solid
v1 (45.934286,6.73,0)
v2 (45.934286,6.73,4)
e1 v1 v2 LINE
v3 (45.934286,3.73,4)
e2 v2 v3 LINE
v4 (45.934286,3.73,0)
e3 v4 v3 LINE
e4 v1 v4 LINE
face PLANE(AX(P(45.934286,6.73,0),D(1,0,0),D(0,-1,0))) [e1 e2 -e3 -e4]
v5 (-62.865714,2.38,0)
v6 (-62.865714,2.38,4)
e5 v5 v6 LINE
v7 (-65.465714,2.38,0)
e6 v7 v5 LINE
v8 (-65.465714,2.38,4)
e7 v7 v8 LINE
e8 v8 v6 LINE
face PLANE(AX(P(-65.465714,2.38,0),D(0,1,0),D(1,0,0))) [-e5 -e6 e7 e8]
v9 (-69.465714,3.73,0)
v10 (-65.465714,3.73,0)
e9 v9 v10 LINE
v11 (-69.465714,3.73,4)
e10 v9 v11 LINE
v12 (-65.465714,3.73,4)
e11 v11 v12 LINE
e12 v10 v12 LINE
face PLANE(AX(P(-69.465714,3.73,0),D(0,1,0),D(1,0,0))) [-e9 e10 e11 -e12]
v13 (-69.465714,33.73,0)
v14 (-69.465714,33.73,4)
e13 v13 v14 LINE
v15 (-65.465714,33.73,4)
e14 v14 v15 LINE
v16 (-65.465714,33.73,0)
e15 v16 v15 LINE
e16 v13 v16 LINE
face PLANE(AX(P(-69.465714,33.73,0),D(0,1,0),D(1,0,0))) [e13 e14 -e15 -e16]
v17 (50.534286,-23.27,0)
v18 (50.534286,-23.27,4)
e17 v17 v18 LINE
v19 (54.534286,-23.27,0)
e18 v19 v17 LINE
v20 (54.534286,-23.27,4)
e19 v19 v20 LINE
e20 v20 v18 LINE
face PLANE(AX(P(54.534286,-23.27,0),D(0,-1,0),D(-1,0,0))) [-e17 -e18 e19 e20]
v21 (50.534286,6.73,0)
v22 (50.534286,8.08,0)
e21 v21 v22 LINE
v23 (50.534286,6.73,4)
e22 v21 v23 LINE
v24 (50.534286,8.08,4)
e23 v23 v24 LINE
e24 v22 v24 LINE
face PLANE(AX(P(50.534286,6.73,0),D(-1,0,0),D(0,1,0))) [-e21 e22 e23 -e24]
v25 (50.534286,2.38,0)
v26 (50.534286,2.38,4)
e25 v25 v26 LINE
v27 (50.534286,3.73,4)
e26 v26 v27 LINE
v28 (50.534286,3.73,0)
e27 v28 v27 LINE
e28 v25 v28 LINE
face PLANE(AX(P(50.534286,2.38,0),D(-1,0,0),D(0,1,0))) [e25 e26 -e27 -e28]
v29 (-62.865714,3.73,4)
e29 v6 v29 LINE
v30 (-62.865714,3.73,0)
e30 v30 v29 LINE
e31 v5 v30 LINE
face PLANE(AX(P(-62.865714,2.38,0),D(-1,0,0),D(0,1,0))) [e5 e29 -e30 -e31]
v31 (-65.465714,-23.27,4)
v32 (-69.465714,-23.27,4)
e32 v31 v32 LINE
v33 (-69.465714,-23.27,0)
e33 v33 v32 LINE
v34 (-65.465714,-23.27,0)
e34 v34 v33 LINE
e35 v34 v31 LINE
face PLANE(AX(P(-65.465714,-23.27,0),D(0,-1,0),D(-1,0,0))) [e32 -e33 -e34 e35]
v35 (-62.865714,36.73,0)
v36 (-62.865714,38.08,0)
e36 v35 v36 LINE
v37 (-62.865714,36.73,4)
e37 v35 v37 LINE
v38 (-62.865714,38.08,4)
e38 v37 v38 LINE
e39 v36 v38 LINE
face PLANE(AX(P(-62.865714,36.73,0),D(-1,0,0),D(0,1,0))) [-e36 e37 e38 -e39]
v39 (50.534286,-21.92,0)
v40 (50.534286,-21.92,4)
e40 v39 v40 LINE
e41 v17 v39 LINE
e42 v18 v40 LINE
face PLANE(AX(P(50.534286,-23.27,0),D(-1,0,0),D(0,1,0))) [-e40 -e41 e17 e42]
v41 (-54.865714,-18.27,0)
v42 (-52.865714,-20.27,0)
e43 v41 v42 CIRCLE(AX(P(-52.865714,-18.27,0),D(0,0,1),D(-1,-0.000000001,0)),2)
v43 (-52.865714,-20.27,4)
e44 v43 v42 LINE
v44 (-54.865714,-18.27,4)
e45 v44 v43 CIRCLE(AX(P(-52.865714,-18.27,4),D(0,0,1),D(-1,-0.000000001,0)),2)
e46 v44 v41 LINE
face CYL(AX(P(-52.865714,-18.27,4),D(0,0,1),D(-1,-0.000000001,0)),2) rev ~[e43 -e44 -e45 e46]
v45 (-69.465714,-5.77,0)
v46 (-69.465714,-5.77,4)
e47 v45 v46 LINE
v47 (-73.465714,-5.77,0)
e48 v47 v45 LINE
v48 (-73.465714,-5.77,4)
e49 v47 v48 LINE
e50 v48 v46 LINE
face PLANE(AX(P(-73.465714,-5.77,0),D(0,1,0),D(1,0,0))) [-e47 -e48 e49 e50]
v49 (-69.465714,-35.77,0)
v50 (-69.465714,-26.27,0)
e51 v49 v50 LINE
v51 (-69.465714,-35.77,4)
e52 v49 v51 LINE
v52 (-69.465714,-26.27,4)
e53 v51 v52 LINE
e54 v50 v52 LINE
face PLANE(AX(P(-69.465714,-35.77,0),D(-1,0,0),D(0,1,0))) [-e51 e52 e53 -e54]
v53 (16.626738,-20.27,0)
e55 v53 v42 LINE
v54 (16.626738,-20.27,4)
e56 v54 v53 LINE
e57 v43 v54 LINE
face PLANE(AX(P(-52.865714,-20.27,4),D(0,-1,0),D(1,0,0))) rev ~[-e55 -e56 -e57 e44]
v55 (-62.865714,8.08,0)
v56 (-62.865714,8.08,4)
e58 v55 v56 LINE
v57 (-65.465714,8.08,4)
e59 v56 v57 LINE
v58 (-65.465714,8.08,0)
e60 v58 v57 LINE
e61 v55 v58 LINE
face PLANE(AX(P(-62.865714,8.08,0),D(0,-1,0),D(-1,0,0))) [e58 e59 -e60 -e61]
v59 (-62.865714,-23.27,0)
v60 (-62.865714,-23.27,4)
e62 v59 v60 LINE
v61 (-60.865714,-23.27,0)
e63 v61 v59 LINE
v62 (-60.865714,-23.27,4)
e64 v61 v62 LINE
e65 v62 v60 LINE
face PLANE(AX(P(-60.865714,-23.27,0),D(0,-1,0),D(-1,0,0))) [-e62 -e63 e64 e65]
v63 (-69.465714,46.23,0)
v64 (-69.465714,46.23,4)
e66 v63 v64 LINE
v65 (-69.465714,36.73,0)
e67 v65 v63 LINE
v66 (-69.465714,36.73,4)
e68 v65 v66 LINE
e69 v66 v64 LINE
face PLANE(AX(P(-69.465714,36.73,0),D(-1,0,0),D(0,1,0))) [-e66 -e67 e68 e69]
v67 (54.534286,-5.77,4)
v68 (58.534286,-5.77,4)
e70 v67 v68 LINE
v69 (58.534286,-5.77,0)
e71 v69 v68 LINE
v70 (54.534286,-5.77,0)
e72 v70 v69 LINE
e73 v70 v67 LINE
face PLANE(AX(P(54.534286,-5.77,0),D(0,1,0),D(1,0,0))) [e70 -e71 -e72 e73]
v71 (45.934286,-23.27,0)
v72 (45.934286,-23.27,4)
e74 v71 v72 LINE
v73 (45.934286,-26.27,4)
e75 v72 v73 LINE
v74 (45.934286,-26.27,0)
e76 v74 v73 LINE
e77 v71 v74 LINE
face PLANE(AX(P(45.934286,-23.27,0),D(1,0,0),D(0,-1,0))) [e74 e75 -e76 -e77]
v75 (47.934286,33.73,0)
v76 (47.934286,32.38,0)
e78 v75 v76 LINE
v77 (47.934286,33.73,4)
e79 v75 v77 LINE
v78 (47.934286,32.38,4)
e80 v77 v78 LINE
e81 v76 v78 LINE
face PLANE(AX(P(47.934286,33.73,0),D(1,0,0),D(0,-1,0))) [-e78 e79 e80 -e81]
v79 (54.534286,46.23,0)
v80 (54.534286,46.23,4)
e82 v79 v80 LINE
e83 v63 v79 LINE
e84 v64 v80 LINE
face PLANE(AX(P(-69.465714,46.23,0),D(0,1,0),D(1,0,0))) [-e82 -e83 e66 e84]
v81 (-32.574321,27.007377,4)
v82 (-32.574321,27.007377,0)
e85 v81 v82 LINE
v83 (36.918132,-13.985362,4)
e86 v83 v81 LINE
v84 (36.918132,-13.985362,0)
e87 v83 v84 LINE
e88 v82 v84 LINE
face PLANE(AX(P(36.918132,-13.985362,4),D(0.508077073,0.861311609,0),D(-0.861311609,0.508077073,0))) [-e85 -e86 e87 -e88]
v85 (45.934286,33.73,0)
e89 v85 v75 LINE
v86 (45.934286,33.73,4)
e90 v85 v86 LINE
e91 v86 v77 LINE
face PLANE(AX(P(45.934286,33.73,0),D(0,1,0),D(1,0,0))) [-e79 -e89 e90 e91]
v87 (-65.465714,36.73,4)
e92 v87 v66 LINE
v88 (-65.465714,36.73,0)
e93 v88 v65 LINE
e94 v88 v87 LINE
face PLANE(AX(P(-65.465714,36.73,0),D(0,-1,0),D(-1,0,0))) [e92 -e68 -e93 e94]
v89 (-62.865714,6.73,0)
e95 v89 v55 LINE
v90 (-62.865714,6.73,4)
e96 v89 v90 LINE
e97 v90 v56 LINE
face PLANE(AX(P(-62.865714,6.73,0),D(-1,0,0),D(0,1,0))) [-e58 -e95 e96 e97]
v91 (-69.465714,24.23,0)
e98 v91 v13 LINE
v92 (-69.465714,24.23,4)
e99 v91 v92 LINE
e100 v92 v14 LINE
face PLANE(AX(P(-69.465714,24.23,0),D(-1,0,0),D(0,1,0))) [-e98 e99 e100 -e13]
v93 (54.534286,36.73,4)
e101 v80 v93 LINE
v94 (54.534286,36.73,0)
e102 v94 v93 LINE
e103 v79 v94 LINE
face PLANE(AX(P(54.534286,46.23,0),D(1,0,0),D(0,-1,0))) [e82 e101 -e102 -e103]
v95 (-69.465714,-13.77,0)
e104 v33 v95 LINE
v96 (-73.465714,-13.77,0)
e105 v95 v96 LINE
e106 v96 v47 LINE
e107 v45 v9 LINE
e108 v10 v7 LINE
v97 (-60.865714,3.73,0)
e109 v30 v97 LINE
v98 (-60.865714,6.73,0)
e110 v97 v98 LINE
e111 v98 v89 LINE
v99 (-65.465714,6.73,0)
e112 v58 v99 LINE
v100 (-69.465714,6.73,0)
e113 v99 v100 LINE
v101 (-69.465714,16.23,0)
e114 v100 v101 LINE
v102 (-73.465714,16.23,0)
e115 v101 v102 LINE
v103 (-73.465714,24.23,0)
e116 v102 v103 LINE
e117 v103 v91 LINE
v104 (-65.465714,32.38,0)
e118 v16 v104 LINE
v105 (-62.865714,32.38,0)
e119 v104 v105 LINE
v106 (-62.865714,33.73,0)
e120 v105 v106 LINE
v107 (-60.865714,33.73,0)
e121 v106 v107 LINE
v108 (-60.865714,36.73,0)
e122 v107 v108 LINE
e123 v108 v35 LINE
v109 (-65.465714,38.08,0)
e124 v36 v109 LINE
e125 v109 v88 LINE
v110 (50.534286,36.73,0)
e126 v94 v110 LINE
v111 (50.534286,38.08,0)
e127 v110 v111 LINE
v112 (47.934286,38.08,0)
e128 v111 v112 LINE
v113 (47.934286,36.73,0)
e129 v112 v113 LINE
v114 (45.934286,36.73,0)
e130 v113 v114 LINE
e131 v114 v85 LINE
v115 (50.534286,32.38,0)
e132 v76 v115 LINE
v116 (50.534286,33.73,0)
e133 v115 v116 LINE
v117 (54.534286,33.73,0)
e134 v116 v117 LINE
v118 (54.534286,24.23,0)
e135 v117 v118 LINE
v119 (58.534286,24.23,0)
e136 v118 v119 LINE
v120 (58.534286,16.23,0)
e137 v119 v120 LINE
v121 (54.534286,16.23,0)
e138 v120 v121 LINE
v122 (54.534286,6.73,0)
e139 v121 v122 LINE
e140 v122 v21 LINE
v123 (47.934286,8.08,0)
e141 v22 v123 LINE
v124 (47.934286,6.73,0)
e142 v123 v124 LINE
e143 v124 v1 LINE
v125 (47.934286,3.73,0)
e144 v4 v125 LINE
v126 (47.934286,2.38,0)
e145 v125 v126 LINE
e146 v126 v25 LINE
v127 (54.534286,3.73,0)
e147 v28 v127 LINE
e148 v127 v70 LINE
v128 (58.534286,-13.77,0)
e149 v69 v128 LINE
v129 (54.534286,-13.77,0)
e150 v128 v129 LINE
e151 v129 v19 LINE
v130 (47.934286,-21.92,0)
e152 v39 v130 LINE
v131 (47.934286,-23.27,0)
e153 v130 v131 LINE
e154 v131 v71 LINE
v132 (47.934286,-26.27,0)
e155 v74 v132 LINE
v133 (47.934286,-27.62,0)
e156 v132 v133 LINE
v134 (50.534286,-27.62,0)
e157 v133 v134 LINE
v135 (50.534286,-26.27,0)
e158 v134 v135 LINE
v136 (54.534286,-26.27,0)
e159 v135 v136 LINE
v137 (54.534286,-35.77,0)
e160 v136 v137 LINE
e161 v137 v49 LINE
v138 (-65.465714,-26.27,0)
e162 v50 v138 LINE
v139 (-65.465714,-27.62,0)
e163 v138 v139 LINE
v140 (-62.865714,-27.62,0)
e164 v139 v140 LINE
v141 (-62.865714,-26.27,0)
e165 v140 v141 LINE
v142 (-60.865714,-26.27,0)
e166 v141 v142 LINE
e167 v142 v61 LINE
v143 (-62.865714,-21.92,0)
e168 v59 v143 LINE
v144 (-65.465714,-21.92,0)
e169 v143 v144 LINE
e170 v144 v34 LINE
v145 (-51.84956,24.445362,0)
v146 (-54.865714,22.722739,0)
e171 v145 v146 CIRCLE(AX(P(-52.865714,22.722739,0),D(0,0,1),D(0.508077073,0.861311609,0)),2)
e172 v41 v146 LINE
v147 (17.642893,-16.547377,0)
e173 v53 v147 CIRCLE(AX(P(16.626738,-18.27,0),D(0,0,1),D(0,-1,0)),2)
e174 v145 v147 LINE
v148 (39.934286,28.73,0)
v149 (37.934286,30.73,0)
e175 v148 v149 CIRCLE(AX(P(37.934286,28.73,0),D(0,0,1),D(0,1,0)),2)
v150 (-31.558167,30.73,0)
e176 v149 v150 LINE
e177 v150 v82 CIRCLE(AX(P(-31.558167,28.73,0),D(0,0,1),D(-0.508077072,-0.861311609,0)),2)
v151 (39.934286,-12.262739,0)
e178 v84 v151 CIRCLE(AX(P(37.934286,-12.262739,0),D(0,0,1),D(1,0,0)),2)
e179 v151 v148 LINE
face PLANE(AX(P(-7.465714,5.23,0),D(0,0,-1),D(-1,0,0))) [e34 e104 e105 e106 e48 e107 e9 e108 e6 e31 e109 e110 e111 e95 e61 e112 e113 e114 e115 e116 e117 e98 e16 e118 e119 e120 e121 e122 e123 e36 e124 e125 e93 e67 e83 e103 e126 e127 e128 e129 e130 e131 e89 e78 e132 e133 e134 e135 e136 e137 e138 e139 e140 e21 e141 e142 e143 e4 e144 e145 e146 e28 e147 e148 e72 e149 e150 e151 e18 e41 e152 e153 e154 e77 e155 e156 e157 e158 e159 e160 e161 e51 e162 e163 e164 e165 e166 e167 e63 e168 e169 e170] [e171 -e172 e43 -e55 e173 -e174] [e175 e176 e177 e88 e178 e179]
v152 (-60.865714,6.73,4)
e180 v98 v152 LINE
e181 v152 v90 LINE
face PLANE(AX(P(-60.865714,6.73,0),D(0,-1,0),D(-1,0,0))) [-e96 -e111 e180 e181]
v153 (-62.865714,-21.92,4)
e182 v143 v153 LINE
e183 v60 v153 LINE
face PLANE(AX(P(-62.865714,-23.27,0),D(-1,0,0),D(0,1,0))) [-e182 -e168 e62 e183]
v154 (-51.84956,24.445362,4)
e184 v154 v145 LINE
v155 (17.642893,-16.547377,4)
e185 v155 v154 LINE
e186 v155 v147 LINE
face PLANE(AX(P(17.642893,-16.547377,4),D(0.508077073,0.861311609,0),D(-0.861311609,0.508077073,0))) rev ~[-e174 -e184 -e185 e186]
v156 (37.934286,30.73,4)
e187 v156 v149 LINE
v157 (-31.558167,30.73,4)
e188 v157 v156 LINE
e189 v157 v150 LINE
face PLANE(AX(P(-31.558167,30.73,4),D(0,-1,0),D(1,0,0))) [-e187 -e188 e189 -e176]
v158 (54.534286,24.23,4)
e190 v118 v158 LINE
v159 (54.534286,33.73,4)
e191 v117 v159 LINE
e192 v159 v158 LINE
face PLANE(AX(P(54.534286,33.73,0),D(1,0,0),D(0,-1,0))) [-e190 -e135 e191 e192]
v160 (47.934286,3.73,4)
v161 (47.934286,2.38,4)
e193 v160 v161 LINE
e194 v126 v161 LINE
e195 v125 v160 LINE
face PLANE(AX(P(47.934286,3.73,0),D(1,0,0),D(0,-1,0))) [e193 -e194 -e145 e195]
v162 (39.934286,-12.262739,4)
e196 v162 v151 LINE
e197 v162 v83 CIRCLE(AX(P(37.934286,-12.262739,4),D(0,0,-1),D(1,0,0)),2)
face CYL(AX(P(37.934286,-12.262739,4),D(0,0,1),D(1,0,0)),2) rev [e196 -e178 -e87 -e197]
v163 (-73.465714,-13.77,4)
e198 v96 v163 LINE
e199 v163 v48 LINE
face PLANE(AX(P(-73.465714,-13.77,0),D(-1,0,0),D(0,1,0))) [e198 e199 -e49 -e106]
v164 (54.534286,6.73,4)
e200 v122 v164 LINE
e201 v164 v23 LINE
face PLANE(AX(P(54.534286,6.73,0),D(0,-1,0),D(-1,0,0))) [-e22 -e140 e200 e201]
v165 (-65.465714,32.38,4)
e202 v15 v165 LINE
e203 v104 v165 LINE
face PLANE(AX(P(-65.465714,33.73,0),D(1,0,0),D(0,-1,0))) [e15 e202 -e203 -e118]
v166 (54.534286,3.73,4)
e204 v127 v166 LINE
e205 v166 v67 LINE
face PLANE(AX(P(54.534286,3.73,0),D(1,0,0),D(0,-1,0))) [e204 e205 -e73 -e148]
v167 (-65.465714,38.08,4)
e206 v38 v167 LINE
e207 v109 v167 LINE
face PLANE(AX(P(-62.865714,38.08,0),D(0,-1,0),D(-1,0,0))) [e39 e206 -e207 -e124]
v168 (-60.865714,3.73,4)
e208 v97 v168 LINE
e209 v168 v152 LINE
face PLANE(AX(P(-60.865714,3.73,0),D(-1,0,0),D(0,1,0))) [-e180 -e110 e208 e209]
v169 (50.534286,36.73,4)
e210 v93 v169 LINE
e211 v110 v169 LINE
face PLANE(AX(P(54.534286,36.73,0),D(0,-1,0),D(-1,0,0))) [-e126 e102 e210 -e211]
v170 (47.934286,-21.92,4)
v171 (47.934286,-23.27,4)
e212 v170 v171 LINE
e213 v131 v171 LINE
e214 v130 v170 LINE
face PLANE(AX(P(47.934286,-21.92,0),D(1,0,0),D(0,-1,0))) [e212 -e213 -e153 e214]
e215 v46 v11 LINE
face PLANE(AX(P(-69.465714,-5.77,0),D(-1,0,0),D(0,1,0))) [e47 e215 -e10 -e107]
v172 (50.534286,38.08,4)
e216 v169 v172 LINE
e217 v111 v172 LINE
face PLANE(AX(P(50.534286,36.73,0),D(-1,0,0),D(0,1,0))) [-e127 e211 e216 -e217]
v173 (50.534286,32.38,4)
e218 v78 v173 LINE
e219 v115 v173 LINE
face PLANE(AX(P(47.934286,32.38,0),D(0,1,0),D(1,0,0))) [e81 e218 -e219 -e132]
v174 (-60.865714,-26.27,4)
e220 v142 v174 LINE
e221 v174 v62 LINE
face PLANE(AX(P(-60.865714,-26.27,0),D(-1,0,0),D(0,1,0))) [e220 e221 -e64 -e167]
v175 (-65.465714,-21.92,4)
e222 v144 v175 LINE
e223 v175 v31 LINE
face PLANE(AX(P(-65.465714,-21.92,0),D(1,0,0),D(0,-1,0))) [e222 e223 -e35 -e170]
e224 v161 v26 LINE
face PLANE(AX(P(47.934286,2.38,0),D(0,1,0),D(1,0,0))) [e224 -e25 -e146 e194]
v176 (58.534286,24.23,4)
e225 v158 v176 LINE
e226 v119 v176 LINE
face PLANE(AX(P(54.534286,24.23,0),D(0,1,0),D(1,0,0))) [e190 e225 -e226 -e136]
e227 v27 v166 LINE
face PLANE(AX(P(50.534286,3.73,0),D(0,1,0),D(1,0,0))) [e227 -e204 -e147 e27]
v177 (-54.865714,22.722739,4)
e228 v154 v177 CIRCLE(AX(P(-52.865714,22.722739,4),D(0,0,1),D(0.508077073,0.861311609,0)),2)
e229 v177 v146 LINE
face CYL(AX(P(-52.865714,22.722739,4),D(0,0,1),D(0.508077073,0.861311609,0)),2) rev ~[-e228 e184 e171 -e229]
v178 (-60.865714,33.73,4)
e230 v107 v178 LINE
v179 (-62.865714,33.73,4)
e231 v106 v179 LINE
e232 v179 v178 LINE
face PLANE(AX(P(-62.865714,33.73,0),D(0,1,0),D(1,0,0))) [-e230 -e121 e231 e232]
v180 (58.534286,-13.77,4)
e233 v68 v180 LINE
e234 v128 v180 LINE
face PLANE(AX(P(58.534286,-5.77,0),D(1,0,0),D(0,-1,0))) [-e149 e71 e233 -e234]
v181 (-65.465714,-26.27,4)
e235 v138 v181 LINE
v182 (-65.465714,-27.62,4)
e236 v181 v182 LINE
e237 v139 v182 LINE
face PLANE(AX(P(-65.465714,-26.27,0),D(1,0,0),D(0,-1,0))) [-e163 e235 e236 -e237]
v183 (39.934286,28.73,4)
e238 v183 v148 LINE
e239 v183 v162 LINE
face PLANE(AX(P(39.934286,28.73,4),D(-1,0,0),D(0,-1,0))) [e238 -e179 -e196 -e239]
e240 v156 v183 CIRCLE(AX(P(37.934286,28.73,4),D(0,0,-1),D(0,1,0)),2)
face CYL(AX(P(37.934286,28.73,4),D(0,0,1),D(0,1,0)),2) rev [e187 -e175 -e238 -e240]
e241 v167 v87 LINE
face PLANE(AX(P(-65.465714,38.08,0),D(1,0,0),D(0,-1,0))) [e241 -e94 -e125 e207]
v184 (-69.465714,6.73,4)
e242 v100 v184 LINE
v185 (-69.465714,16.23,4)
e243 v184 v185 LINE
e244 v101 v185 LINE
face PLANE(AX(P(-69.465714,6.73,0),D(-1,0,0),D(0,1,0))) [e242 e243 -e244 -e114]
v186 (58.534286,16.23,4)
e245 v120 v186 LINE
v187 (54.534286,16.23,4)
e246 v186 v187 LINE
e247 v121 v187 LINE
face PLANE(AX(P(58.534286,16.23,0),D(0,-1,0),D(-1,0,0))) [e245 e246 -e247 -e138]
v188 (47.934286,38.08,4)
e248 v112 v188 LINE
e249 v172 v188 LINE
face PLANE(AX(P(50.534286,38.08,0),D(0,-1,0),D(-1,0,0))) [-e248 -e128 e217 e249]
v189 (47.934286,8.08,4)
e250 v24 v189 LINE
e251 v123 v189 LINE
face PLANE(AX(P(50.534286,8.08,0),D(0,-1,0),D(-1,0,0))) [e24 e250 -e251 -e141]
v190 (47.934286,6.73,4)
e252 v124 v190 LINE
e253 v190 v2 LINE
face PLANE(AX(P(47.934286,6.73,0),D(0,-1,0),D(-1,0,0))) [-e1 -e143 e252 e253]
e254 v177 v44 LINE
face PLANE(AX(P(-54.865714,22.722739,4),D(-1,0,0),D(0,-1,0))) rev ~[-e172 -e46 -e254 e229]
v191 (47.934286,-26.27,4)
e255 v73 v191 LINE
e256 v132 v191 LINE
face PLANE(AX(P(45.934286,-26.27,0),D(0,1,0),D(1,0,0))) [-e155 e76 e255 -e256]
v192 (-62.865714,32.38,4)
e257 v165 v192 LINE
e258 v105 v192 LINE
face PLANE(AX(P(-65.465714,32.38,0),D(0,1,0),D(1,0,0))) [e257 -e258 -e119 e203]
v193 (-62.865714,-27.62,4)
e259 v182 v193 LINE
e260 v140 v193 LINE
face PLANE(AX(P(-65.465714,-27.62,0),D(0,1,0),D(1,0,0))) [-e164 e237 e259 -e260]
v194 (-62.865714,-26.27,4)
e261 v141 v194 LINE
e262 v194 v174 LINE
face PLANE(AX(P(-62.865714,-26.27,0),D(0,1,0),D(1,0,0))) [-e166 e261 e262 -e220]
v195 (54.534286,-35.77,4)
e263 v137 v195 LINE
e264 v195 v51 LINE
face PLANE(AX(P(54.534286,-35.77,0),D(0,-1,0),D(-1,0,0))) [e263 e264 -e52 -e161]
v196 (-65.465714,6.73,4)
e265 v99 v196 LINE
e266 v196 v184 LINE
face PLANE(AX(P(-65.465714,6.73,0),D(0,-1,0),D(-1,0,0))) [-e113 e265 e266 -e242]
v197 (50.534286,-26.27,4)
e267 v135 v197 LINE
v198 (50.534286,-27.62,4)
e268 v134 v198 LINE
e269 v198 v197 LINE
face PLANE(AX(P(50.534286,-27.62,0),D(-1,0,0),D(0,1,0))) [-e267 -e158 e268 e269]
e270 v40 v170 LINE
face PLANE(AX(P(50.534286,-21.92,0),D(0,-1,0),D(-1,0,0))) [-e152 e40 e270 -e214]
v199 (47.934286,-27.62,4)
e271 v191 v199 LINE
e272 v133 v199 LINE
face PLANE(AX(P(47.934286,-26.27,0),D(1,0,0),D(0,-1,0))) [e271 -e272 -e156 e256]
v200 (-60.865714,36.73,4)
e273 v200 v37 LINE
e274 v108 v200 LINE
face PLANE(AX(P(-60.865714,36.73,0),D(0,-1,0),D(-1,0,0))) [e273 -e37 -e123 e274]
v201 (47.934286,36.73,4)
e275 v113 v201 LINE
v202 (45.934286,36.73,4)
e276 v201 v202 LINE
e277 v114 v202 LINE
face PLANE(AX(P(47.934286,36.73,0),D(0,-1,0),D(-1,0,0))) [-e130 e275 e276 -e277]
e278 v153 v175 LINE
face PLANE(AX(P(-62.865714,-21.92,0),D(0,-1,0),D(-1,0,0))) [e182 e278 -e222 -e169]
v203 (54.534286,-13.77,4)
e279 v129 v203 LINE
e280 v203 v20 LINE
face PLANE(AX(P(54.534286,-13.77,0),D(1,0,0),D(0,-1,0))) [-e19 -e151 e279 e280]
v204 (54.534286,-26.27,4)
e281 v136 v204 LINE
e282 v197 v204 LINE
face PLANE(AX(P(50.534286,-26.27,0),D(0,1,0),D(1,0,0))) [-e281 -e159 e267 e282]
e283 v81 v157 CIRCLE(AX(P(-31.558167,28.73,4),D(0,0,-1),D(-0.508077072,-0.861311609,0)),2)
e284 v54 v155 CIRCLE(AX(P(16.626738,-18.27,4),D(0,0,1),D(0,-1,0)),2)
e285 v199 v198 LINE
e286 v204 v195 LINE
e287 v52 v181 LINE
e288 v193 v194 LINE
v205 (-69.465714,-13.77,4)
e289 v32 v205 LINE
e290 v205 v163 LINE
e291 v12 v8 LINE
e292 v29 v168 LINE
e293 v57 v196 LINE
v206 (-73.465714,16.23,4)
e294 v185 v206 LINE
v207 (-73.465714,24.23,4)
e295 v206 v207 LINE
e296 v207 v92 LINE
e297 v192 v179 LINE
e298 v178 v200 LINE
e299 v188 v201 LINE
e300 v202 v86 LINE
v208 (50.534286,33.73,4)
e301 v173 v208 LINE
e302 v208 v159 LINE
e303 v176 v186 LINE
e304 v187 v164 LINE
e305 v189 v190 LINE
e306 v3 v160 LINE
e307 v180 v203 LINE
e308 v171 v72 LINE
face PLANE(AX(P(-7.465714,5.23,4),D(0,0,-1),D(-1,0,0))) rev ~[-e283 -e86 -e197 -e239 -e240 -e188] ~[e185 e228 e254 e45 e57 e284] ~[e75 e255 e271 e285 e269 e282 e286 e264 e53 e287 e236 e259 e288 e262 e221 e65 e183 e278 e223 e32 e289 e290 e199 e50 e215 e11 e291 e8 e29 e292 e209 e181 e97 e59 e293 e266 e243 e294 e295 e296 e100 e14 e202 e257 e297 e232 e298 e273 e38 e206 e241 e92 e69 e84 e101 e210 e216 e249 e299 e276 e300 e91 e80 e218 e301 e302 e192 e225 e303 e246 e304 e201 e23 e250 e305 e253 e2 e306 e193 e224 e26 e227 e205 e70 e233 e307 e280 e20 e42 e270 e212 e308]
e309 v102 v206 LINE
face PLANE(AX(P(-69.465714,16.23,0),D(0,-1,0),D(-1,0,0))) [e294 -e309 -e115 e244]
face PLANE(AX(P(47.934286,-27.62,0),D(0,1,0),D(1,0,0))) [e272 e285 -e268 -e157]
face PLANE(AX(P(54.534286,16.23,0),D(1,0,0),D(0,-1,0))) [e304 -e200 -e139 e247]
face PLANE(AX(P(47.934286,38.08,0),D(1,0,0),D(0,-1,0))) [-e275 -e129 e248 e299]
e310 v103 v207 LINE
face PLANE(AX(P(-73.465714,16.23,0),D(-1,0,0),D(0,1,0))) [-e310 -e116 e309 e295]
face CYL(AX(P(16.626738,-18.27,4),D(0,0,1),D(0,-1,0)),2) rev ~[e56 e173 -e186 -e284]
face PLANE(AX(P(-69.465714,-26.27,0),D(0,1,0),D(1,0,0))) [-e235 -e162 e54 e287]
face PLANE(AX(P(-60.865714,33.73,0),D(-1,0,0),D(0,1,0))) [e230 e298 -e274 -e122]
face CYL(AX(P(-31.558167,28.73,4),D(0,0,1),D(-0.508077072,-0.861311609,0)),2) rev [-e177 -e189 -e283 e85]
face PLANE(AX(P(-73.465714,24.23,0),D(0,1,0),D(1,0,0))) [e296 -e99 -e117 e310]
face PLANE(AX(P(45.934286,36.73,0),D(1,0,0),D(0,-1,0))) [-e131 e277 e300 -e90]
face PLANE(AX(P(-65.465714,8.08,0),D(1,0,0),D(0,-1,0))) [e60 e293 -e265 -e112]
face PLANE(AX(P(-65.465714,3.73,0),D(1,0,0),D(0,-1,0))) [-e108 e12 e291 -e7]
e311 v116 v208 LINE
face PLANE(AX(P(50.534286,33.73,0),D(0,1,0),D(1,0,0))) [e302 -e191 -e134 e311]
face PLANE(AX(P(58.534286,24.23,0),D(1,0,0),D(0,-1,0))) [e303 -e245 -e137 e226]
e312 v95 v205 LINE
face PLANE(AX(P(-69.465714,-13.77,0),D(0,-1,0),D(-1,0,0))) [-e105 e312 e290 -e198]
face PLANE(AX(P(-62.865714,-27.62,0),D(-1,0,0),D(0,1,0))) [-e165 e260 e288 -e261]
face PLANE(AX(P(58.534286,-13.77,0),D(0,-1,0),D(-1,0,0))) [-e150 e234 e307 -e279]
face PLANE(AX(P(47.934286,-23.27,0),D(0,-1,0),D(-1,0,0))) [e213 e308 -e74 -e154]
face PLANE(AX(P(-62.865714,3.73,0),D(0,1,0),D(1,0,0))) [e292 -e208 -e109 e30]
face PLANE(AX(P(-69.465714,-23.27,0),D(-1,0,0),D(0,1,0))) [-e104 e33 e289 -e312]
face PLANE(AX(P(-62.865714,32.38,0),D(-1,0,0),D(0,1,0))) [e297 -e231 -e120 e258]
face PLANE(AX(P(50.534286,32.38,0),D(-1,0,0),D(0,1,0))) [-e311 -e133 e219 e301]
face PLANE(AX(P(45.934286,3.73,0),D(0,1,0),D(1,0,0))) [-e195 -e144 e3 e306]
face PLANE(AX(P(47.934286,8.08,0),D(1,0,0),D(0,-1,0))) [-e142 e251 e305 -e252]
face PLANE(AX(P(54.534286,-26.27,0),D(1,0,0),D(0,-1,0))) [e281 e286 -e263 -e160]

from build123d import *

# Parameters (mm, degrees)
EXTRUDE_1_DEPTH     = 4
CUT_EXTRUDE_1_DEPTH = 10


with BuildPart() as part:
    # 草图1 → 凸台-拉伸1 (new body)
    with BuildSketch(Plane.XY):
        Polygon((54.534285714, 6.73), (50.534285714, 6.73), (50.534285714, 8.08), (47.934285714, 8.08), (47.934285714, 6.73), (45.934285714, 6.73), (45.934285714, 3.73), (47.934285714, 3.73), (47.934285714, 2.38), (50.534285714, 2.38), (50.534285714, 3.73), (54.534285714, 3.73), (54.534285714, -5.77), (58.534285714, -5.77), (58.534285714, -13.77), (54.534285714, -13.77), (54.534285714, -23.27), (50.534285714, -23.27), (50.534285714, -21.92), (47.934285714, -21.92), (47.934285714, -23.27), (45.934285714, -23.27), (45.934285714, -26.27), (47.934285714, -26.27), (47.934285714, -27.62), (50.534285714, -27.62), (50.534285714, -26.27), (54.534285714, -26.27), (54.534285714, -35.77), (-69.465714286, -35.77), (-69.465714286, -26.27), (-65.465714286, -26.27), (-65.465714286, -27.62), (-62.865714286, -27.62), (-62.865714286, -26.27), (-60.865714286, -26.27), (-60.865714286, -23.27), (-62.865714286, -23.27), (-62.865714286, -21.92), (-65.465714286, -21.92), (-65.465714286, -23.27), (-69.465714286, -23.27), (-69.465714286, -13.77), (-73.465714286, -13.77), (-73.465714286, -5.77), (-69.465714286, -5.77), (-69.465714286, 3.73), (-65.465714286, 3.73), (-65.465714286, 2.38), (-62.865714286, 2.38), (-62.865714286, 3.73), (-60.865714286, 3.73), (-60.865714286, 6.73), (-62.865714286, 6.73), (-62.865714286, 8.08), (-65.465714286, 8.08), (-65.465714286, 6.73), (-69.465714286, 6.73), (-69.465714286, 16.23), (-73.465714286, 16.23), (-73.465714286, 24.23), (-69.465714286, 24.23), (-69.465714286, 33.73), (-65.465714286, 33.73), (-65.465714286, 32.38), (-62.865714286, 32.38), (-62.865714286, 33.73), (-60.865714286, 33.73), (-60.865714286, 36.73), (-62.865714286, 36.73), (-62.865714286, 38.08), (-65.465714286, 38.08), (-65.465714286, 36.73), (-69.465714286, 36.73), (-69.465714286, 46.23), (54.534285714, 46.23), (54.534285714, 36.73), (50.534285714, 36.73), (50.534285714, 38.08), (47.934285714, 38.08), (47.934285714, 36.73), (45.934285714, 36.73), (45.934285714, 33.73), (47.934285714, 33.73), (47.934285714, 32.38), (50.534285714, 32.38), (50.534285714, 33.73), (54.534285714, 33.73), (54.534285714, 24.23), (58.534285714, 24.23), (58.534285714, 16.23), (54.534285714, 16.23), align=None)
    extrude(amount=EXTRUDE_1_DEPTH)

    # 草图3 → 切除-拉伸1 (cut)
    with BuildSketch(Plane.XY.offset(4)):
        with BuildLine():
            Line((17.642892502, -16.547376782), (-51.84956014, 24.445362136))
            ThreePointArc((-51.84956014, 24.445362136), (-53.857604327, 24.459446765), (-54.865714286, 22.722738918))
            Line((-54.865714286, 22.722738918), (-54.865714286, -18.27))
            ThreePointArc((-54.865714286, -18.27), (-54.279927848, -19.684213562), (-52.865714286, -20.27))
            Line((-52.865714286, -20.27), (16.626738356, -20.27))
            ThreePointArc((16.626738356, -20.27), (18.556148426, -18.796665721), (17.642892502, -16.547376782))
        make_face()
        with BuildLine():
            Line((-31.558166927, 30.73), (37.934285714, 30.73))
            ThreePointArc((37.934285714, 30.73), (39.348499277, 30.144213562), (39.934285714, 28.73))
            Line((39.934285714, 28.73), (39.934285714, -12.262738918))
            ThreePointArc((39.934285714, -12.262738918), (38.926175756, -13.999446765), (36.918131569, -13.985362136))
            Line((36.918131569, -13.985362136), (-32.574321073, 27.007376782))
            ThreePointArc((-32.574321073, 27.007376782), (-33.487576998, 29.256665721), (-31.558166927, 30.73))
        make_face()
    extrude(amount=-CUT_EXTRUDE_1_DEPTH, mode=Mode.SUBTRACT)


solid = part.part
